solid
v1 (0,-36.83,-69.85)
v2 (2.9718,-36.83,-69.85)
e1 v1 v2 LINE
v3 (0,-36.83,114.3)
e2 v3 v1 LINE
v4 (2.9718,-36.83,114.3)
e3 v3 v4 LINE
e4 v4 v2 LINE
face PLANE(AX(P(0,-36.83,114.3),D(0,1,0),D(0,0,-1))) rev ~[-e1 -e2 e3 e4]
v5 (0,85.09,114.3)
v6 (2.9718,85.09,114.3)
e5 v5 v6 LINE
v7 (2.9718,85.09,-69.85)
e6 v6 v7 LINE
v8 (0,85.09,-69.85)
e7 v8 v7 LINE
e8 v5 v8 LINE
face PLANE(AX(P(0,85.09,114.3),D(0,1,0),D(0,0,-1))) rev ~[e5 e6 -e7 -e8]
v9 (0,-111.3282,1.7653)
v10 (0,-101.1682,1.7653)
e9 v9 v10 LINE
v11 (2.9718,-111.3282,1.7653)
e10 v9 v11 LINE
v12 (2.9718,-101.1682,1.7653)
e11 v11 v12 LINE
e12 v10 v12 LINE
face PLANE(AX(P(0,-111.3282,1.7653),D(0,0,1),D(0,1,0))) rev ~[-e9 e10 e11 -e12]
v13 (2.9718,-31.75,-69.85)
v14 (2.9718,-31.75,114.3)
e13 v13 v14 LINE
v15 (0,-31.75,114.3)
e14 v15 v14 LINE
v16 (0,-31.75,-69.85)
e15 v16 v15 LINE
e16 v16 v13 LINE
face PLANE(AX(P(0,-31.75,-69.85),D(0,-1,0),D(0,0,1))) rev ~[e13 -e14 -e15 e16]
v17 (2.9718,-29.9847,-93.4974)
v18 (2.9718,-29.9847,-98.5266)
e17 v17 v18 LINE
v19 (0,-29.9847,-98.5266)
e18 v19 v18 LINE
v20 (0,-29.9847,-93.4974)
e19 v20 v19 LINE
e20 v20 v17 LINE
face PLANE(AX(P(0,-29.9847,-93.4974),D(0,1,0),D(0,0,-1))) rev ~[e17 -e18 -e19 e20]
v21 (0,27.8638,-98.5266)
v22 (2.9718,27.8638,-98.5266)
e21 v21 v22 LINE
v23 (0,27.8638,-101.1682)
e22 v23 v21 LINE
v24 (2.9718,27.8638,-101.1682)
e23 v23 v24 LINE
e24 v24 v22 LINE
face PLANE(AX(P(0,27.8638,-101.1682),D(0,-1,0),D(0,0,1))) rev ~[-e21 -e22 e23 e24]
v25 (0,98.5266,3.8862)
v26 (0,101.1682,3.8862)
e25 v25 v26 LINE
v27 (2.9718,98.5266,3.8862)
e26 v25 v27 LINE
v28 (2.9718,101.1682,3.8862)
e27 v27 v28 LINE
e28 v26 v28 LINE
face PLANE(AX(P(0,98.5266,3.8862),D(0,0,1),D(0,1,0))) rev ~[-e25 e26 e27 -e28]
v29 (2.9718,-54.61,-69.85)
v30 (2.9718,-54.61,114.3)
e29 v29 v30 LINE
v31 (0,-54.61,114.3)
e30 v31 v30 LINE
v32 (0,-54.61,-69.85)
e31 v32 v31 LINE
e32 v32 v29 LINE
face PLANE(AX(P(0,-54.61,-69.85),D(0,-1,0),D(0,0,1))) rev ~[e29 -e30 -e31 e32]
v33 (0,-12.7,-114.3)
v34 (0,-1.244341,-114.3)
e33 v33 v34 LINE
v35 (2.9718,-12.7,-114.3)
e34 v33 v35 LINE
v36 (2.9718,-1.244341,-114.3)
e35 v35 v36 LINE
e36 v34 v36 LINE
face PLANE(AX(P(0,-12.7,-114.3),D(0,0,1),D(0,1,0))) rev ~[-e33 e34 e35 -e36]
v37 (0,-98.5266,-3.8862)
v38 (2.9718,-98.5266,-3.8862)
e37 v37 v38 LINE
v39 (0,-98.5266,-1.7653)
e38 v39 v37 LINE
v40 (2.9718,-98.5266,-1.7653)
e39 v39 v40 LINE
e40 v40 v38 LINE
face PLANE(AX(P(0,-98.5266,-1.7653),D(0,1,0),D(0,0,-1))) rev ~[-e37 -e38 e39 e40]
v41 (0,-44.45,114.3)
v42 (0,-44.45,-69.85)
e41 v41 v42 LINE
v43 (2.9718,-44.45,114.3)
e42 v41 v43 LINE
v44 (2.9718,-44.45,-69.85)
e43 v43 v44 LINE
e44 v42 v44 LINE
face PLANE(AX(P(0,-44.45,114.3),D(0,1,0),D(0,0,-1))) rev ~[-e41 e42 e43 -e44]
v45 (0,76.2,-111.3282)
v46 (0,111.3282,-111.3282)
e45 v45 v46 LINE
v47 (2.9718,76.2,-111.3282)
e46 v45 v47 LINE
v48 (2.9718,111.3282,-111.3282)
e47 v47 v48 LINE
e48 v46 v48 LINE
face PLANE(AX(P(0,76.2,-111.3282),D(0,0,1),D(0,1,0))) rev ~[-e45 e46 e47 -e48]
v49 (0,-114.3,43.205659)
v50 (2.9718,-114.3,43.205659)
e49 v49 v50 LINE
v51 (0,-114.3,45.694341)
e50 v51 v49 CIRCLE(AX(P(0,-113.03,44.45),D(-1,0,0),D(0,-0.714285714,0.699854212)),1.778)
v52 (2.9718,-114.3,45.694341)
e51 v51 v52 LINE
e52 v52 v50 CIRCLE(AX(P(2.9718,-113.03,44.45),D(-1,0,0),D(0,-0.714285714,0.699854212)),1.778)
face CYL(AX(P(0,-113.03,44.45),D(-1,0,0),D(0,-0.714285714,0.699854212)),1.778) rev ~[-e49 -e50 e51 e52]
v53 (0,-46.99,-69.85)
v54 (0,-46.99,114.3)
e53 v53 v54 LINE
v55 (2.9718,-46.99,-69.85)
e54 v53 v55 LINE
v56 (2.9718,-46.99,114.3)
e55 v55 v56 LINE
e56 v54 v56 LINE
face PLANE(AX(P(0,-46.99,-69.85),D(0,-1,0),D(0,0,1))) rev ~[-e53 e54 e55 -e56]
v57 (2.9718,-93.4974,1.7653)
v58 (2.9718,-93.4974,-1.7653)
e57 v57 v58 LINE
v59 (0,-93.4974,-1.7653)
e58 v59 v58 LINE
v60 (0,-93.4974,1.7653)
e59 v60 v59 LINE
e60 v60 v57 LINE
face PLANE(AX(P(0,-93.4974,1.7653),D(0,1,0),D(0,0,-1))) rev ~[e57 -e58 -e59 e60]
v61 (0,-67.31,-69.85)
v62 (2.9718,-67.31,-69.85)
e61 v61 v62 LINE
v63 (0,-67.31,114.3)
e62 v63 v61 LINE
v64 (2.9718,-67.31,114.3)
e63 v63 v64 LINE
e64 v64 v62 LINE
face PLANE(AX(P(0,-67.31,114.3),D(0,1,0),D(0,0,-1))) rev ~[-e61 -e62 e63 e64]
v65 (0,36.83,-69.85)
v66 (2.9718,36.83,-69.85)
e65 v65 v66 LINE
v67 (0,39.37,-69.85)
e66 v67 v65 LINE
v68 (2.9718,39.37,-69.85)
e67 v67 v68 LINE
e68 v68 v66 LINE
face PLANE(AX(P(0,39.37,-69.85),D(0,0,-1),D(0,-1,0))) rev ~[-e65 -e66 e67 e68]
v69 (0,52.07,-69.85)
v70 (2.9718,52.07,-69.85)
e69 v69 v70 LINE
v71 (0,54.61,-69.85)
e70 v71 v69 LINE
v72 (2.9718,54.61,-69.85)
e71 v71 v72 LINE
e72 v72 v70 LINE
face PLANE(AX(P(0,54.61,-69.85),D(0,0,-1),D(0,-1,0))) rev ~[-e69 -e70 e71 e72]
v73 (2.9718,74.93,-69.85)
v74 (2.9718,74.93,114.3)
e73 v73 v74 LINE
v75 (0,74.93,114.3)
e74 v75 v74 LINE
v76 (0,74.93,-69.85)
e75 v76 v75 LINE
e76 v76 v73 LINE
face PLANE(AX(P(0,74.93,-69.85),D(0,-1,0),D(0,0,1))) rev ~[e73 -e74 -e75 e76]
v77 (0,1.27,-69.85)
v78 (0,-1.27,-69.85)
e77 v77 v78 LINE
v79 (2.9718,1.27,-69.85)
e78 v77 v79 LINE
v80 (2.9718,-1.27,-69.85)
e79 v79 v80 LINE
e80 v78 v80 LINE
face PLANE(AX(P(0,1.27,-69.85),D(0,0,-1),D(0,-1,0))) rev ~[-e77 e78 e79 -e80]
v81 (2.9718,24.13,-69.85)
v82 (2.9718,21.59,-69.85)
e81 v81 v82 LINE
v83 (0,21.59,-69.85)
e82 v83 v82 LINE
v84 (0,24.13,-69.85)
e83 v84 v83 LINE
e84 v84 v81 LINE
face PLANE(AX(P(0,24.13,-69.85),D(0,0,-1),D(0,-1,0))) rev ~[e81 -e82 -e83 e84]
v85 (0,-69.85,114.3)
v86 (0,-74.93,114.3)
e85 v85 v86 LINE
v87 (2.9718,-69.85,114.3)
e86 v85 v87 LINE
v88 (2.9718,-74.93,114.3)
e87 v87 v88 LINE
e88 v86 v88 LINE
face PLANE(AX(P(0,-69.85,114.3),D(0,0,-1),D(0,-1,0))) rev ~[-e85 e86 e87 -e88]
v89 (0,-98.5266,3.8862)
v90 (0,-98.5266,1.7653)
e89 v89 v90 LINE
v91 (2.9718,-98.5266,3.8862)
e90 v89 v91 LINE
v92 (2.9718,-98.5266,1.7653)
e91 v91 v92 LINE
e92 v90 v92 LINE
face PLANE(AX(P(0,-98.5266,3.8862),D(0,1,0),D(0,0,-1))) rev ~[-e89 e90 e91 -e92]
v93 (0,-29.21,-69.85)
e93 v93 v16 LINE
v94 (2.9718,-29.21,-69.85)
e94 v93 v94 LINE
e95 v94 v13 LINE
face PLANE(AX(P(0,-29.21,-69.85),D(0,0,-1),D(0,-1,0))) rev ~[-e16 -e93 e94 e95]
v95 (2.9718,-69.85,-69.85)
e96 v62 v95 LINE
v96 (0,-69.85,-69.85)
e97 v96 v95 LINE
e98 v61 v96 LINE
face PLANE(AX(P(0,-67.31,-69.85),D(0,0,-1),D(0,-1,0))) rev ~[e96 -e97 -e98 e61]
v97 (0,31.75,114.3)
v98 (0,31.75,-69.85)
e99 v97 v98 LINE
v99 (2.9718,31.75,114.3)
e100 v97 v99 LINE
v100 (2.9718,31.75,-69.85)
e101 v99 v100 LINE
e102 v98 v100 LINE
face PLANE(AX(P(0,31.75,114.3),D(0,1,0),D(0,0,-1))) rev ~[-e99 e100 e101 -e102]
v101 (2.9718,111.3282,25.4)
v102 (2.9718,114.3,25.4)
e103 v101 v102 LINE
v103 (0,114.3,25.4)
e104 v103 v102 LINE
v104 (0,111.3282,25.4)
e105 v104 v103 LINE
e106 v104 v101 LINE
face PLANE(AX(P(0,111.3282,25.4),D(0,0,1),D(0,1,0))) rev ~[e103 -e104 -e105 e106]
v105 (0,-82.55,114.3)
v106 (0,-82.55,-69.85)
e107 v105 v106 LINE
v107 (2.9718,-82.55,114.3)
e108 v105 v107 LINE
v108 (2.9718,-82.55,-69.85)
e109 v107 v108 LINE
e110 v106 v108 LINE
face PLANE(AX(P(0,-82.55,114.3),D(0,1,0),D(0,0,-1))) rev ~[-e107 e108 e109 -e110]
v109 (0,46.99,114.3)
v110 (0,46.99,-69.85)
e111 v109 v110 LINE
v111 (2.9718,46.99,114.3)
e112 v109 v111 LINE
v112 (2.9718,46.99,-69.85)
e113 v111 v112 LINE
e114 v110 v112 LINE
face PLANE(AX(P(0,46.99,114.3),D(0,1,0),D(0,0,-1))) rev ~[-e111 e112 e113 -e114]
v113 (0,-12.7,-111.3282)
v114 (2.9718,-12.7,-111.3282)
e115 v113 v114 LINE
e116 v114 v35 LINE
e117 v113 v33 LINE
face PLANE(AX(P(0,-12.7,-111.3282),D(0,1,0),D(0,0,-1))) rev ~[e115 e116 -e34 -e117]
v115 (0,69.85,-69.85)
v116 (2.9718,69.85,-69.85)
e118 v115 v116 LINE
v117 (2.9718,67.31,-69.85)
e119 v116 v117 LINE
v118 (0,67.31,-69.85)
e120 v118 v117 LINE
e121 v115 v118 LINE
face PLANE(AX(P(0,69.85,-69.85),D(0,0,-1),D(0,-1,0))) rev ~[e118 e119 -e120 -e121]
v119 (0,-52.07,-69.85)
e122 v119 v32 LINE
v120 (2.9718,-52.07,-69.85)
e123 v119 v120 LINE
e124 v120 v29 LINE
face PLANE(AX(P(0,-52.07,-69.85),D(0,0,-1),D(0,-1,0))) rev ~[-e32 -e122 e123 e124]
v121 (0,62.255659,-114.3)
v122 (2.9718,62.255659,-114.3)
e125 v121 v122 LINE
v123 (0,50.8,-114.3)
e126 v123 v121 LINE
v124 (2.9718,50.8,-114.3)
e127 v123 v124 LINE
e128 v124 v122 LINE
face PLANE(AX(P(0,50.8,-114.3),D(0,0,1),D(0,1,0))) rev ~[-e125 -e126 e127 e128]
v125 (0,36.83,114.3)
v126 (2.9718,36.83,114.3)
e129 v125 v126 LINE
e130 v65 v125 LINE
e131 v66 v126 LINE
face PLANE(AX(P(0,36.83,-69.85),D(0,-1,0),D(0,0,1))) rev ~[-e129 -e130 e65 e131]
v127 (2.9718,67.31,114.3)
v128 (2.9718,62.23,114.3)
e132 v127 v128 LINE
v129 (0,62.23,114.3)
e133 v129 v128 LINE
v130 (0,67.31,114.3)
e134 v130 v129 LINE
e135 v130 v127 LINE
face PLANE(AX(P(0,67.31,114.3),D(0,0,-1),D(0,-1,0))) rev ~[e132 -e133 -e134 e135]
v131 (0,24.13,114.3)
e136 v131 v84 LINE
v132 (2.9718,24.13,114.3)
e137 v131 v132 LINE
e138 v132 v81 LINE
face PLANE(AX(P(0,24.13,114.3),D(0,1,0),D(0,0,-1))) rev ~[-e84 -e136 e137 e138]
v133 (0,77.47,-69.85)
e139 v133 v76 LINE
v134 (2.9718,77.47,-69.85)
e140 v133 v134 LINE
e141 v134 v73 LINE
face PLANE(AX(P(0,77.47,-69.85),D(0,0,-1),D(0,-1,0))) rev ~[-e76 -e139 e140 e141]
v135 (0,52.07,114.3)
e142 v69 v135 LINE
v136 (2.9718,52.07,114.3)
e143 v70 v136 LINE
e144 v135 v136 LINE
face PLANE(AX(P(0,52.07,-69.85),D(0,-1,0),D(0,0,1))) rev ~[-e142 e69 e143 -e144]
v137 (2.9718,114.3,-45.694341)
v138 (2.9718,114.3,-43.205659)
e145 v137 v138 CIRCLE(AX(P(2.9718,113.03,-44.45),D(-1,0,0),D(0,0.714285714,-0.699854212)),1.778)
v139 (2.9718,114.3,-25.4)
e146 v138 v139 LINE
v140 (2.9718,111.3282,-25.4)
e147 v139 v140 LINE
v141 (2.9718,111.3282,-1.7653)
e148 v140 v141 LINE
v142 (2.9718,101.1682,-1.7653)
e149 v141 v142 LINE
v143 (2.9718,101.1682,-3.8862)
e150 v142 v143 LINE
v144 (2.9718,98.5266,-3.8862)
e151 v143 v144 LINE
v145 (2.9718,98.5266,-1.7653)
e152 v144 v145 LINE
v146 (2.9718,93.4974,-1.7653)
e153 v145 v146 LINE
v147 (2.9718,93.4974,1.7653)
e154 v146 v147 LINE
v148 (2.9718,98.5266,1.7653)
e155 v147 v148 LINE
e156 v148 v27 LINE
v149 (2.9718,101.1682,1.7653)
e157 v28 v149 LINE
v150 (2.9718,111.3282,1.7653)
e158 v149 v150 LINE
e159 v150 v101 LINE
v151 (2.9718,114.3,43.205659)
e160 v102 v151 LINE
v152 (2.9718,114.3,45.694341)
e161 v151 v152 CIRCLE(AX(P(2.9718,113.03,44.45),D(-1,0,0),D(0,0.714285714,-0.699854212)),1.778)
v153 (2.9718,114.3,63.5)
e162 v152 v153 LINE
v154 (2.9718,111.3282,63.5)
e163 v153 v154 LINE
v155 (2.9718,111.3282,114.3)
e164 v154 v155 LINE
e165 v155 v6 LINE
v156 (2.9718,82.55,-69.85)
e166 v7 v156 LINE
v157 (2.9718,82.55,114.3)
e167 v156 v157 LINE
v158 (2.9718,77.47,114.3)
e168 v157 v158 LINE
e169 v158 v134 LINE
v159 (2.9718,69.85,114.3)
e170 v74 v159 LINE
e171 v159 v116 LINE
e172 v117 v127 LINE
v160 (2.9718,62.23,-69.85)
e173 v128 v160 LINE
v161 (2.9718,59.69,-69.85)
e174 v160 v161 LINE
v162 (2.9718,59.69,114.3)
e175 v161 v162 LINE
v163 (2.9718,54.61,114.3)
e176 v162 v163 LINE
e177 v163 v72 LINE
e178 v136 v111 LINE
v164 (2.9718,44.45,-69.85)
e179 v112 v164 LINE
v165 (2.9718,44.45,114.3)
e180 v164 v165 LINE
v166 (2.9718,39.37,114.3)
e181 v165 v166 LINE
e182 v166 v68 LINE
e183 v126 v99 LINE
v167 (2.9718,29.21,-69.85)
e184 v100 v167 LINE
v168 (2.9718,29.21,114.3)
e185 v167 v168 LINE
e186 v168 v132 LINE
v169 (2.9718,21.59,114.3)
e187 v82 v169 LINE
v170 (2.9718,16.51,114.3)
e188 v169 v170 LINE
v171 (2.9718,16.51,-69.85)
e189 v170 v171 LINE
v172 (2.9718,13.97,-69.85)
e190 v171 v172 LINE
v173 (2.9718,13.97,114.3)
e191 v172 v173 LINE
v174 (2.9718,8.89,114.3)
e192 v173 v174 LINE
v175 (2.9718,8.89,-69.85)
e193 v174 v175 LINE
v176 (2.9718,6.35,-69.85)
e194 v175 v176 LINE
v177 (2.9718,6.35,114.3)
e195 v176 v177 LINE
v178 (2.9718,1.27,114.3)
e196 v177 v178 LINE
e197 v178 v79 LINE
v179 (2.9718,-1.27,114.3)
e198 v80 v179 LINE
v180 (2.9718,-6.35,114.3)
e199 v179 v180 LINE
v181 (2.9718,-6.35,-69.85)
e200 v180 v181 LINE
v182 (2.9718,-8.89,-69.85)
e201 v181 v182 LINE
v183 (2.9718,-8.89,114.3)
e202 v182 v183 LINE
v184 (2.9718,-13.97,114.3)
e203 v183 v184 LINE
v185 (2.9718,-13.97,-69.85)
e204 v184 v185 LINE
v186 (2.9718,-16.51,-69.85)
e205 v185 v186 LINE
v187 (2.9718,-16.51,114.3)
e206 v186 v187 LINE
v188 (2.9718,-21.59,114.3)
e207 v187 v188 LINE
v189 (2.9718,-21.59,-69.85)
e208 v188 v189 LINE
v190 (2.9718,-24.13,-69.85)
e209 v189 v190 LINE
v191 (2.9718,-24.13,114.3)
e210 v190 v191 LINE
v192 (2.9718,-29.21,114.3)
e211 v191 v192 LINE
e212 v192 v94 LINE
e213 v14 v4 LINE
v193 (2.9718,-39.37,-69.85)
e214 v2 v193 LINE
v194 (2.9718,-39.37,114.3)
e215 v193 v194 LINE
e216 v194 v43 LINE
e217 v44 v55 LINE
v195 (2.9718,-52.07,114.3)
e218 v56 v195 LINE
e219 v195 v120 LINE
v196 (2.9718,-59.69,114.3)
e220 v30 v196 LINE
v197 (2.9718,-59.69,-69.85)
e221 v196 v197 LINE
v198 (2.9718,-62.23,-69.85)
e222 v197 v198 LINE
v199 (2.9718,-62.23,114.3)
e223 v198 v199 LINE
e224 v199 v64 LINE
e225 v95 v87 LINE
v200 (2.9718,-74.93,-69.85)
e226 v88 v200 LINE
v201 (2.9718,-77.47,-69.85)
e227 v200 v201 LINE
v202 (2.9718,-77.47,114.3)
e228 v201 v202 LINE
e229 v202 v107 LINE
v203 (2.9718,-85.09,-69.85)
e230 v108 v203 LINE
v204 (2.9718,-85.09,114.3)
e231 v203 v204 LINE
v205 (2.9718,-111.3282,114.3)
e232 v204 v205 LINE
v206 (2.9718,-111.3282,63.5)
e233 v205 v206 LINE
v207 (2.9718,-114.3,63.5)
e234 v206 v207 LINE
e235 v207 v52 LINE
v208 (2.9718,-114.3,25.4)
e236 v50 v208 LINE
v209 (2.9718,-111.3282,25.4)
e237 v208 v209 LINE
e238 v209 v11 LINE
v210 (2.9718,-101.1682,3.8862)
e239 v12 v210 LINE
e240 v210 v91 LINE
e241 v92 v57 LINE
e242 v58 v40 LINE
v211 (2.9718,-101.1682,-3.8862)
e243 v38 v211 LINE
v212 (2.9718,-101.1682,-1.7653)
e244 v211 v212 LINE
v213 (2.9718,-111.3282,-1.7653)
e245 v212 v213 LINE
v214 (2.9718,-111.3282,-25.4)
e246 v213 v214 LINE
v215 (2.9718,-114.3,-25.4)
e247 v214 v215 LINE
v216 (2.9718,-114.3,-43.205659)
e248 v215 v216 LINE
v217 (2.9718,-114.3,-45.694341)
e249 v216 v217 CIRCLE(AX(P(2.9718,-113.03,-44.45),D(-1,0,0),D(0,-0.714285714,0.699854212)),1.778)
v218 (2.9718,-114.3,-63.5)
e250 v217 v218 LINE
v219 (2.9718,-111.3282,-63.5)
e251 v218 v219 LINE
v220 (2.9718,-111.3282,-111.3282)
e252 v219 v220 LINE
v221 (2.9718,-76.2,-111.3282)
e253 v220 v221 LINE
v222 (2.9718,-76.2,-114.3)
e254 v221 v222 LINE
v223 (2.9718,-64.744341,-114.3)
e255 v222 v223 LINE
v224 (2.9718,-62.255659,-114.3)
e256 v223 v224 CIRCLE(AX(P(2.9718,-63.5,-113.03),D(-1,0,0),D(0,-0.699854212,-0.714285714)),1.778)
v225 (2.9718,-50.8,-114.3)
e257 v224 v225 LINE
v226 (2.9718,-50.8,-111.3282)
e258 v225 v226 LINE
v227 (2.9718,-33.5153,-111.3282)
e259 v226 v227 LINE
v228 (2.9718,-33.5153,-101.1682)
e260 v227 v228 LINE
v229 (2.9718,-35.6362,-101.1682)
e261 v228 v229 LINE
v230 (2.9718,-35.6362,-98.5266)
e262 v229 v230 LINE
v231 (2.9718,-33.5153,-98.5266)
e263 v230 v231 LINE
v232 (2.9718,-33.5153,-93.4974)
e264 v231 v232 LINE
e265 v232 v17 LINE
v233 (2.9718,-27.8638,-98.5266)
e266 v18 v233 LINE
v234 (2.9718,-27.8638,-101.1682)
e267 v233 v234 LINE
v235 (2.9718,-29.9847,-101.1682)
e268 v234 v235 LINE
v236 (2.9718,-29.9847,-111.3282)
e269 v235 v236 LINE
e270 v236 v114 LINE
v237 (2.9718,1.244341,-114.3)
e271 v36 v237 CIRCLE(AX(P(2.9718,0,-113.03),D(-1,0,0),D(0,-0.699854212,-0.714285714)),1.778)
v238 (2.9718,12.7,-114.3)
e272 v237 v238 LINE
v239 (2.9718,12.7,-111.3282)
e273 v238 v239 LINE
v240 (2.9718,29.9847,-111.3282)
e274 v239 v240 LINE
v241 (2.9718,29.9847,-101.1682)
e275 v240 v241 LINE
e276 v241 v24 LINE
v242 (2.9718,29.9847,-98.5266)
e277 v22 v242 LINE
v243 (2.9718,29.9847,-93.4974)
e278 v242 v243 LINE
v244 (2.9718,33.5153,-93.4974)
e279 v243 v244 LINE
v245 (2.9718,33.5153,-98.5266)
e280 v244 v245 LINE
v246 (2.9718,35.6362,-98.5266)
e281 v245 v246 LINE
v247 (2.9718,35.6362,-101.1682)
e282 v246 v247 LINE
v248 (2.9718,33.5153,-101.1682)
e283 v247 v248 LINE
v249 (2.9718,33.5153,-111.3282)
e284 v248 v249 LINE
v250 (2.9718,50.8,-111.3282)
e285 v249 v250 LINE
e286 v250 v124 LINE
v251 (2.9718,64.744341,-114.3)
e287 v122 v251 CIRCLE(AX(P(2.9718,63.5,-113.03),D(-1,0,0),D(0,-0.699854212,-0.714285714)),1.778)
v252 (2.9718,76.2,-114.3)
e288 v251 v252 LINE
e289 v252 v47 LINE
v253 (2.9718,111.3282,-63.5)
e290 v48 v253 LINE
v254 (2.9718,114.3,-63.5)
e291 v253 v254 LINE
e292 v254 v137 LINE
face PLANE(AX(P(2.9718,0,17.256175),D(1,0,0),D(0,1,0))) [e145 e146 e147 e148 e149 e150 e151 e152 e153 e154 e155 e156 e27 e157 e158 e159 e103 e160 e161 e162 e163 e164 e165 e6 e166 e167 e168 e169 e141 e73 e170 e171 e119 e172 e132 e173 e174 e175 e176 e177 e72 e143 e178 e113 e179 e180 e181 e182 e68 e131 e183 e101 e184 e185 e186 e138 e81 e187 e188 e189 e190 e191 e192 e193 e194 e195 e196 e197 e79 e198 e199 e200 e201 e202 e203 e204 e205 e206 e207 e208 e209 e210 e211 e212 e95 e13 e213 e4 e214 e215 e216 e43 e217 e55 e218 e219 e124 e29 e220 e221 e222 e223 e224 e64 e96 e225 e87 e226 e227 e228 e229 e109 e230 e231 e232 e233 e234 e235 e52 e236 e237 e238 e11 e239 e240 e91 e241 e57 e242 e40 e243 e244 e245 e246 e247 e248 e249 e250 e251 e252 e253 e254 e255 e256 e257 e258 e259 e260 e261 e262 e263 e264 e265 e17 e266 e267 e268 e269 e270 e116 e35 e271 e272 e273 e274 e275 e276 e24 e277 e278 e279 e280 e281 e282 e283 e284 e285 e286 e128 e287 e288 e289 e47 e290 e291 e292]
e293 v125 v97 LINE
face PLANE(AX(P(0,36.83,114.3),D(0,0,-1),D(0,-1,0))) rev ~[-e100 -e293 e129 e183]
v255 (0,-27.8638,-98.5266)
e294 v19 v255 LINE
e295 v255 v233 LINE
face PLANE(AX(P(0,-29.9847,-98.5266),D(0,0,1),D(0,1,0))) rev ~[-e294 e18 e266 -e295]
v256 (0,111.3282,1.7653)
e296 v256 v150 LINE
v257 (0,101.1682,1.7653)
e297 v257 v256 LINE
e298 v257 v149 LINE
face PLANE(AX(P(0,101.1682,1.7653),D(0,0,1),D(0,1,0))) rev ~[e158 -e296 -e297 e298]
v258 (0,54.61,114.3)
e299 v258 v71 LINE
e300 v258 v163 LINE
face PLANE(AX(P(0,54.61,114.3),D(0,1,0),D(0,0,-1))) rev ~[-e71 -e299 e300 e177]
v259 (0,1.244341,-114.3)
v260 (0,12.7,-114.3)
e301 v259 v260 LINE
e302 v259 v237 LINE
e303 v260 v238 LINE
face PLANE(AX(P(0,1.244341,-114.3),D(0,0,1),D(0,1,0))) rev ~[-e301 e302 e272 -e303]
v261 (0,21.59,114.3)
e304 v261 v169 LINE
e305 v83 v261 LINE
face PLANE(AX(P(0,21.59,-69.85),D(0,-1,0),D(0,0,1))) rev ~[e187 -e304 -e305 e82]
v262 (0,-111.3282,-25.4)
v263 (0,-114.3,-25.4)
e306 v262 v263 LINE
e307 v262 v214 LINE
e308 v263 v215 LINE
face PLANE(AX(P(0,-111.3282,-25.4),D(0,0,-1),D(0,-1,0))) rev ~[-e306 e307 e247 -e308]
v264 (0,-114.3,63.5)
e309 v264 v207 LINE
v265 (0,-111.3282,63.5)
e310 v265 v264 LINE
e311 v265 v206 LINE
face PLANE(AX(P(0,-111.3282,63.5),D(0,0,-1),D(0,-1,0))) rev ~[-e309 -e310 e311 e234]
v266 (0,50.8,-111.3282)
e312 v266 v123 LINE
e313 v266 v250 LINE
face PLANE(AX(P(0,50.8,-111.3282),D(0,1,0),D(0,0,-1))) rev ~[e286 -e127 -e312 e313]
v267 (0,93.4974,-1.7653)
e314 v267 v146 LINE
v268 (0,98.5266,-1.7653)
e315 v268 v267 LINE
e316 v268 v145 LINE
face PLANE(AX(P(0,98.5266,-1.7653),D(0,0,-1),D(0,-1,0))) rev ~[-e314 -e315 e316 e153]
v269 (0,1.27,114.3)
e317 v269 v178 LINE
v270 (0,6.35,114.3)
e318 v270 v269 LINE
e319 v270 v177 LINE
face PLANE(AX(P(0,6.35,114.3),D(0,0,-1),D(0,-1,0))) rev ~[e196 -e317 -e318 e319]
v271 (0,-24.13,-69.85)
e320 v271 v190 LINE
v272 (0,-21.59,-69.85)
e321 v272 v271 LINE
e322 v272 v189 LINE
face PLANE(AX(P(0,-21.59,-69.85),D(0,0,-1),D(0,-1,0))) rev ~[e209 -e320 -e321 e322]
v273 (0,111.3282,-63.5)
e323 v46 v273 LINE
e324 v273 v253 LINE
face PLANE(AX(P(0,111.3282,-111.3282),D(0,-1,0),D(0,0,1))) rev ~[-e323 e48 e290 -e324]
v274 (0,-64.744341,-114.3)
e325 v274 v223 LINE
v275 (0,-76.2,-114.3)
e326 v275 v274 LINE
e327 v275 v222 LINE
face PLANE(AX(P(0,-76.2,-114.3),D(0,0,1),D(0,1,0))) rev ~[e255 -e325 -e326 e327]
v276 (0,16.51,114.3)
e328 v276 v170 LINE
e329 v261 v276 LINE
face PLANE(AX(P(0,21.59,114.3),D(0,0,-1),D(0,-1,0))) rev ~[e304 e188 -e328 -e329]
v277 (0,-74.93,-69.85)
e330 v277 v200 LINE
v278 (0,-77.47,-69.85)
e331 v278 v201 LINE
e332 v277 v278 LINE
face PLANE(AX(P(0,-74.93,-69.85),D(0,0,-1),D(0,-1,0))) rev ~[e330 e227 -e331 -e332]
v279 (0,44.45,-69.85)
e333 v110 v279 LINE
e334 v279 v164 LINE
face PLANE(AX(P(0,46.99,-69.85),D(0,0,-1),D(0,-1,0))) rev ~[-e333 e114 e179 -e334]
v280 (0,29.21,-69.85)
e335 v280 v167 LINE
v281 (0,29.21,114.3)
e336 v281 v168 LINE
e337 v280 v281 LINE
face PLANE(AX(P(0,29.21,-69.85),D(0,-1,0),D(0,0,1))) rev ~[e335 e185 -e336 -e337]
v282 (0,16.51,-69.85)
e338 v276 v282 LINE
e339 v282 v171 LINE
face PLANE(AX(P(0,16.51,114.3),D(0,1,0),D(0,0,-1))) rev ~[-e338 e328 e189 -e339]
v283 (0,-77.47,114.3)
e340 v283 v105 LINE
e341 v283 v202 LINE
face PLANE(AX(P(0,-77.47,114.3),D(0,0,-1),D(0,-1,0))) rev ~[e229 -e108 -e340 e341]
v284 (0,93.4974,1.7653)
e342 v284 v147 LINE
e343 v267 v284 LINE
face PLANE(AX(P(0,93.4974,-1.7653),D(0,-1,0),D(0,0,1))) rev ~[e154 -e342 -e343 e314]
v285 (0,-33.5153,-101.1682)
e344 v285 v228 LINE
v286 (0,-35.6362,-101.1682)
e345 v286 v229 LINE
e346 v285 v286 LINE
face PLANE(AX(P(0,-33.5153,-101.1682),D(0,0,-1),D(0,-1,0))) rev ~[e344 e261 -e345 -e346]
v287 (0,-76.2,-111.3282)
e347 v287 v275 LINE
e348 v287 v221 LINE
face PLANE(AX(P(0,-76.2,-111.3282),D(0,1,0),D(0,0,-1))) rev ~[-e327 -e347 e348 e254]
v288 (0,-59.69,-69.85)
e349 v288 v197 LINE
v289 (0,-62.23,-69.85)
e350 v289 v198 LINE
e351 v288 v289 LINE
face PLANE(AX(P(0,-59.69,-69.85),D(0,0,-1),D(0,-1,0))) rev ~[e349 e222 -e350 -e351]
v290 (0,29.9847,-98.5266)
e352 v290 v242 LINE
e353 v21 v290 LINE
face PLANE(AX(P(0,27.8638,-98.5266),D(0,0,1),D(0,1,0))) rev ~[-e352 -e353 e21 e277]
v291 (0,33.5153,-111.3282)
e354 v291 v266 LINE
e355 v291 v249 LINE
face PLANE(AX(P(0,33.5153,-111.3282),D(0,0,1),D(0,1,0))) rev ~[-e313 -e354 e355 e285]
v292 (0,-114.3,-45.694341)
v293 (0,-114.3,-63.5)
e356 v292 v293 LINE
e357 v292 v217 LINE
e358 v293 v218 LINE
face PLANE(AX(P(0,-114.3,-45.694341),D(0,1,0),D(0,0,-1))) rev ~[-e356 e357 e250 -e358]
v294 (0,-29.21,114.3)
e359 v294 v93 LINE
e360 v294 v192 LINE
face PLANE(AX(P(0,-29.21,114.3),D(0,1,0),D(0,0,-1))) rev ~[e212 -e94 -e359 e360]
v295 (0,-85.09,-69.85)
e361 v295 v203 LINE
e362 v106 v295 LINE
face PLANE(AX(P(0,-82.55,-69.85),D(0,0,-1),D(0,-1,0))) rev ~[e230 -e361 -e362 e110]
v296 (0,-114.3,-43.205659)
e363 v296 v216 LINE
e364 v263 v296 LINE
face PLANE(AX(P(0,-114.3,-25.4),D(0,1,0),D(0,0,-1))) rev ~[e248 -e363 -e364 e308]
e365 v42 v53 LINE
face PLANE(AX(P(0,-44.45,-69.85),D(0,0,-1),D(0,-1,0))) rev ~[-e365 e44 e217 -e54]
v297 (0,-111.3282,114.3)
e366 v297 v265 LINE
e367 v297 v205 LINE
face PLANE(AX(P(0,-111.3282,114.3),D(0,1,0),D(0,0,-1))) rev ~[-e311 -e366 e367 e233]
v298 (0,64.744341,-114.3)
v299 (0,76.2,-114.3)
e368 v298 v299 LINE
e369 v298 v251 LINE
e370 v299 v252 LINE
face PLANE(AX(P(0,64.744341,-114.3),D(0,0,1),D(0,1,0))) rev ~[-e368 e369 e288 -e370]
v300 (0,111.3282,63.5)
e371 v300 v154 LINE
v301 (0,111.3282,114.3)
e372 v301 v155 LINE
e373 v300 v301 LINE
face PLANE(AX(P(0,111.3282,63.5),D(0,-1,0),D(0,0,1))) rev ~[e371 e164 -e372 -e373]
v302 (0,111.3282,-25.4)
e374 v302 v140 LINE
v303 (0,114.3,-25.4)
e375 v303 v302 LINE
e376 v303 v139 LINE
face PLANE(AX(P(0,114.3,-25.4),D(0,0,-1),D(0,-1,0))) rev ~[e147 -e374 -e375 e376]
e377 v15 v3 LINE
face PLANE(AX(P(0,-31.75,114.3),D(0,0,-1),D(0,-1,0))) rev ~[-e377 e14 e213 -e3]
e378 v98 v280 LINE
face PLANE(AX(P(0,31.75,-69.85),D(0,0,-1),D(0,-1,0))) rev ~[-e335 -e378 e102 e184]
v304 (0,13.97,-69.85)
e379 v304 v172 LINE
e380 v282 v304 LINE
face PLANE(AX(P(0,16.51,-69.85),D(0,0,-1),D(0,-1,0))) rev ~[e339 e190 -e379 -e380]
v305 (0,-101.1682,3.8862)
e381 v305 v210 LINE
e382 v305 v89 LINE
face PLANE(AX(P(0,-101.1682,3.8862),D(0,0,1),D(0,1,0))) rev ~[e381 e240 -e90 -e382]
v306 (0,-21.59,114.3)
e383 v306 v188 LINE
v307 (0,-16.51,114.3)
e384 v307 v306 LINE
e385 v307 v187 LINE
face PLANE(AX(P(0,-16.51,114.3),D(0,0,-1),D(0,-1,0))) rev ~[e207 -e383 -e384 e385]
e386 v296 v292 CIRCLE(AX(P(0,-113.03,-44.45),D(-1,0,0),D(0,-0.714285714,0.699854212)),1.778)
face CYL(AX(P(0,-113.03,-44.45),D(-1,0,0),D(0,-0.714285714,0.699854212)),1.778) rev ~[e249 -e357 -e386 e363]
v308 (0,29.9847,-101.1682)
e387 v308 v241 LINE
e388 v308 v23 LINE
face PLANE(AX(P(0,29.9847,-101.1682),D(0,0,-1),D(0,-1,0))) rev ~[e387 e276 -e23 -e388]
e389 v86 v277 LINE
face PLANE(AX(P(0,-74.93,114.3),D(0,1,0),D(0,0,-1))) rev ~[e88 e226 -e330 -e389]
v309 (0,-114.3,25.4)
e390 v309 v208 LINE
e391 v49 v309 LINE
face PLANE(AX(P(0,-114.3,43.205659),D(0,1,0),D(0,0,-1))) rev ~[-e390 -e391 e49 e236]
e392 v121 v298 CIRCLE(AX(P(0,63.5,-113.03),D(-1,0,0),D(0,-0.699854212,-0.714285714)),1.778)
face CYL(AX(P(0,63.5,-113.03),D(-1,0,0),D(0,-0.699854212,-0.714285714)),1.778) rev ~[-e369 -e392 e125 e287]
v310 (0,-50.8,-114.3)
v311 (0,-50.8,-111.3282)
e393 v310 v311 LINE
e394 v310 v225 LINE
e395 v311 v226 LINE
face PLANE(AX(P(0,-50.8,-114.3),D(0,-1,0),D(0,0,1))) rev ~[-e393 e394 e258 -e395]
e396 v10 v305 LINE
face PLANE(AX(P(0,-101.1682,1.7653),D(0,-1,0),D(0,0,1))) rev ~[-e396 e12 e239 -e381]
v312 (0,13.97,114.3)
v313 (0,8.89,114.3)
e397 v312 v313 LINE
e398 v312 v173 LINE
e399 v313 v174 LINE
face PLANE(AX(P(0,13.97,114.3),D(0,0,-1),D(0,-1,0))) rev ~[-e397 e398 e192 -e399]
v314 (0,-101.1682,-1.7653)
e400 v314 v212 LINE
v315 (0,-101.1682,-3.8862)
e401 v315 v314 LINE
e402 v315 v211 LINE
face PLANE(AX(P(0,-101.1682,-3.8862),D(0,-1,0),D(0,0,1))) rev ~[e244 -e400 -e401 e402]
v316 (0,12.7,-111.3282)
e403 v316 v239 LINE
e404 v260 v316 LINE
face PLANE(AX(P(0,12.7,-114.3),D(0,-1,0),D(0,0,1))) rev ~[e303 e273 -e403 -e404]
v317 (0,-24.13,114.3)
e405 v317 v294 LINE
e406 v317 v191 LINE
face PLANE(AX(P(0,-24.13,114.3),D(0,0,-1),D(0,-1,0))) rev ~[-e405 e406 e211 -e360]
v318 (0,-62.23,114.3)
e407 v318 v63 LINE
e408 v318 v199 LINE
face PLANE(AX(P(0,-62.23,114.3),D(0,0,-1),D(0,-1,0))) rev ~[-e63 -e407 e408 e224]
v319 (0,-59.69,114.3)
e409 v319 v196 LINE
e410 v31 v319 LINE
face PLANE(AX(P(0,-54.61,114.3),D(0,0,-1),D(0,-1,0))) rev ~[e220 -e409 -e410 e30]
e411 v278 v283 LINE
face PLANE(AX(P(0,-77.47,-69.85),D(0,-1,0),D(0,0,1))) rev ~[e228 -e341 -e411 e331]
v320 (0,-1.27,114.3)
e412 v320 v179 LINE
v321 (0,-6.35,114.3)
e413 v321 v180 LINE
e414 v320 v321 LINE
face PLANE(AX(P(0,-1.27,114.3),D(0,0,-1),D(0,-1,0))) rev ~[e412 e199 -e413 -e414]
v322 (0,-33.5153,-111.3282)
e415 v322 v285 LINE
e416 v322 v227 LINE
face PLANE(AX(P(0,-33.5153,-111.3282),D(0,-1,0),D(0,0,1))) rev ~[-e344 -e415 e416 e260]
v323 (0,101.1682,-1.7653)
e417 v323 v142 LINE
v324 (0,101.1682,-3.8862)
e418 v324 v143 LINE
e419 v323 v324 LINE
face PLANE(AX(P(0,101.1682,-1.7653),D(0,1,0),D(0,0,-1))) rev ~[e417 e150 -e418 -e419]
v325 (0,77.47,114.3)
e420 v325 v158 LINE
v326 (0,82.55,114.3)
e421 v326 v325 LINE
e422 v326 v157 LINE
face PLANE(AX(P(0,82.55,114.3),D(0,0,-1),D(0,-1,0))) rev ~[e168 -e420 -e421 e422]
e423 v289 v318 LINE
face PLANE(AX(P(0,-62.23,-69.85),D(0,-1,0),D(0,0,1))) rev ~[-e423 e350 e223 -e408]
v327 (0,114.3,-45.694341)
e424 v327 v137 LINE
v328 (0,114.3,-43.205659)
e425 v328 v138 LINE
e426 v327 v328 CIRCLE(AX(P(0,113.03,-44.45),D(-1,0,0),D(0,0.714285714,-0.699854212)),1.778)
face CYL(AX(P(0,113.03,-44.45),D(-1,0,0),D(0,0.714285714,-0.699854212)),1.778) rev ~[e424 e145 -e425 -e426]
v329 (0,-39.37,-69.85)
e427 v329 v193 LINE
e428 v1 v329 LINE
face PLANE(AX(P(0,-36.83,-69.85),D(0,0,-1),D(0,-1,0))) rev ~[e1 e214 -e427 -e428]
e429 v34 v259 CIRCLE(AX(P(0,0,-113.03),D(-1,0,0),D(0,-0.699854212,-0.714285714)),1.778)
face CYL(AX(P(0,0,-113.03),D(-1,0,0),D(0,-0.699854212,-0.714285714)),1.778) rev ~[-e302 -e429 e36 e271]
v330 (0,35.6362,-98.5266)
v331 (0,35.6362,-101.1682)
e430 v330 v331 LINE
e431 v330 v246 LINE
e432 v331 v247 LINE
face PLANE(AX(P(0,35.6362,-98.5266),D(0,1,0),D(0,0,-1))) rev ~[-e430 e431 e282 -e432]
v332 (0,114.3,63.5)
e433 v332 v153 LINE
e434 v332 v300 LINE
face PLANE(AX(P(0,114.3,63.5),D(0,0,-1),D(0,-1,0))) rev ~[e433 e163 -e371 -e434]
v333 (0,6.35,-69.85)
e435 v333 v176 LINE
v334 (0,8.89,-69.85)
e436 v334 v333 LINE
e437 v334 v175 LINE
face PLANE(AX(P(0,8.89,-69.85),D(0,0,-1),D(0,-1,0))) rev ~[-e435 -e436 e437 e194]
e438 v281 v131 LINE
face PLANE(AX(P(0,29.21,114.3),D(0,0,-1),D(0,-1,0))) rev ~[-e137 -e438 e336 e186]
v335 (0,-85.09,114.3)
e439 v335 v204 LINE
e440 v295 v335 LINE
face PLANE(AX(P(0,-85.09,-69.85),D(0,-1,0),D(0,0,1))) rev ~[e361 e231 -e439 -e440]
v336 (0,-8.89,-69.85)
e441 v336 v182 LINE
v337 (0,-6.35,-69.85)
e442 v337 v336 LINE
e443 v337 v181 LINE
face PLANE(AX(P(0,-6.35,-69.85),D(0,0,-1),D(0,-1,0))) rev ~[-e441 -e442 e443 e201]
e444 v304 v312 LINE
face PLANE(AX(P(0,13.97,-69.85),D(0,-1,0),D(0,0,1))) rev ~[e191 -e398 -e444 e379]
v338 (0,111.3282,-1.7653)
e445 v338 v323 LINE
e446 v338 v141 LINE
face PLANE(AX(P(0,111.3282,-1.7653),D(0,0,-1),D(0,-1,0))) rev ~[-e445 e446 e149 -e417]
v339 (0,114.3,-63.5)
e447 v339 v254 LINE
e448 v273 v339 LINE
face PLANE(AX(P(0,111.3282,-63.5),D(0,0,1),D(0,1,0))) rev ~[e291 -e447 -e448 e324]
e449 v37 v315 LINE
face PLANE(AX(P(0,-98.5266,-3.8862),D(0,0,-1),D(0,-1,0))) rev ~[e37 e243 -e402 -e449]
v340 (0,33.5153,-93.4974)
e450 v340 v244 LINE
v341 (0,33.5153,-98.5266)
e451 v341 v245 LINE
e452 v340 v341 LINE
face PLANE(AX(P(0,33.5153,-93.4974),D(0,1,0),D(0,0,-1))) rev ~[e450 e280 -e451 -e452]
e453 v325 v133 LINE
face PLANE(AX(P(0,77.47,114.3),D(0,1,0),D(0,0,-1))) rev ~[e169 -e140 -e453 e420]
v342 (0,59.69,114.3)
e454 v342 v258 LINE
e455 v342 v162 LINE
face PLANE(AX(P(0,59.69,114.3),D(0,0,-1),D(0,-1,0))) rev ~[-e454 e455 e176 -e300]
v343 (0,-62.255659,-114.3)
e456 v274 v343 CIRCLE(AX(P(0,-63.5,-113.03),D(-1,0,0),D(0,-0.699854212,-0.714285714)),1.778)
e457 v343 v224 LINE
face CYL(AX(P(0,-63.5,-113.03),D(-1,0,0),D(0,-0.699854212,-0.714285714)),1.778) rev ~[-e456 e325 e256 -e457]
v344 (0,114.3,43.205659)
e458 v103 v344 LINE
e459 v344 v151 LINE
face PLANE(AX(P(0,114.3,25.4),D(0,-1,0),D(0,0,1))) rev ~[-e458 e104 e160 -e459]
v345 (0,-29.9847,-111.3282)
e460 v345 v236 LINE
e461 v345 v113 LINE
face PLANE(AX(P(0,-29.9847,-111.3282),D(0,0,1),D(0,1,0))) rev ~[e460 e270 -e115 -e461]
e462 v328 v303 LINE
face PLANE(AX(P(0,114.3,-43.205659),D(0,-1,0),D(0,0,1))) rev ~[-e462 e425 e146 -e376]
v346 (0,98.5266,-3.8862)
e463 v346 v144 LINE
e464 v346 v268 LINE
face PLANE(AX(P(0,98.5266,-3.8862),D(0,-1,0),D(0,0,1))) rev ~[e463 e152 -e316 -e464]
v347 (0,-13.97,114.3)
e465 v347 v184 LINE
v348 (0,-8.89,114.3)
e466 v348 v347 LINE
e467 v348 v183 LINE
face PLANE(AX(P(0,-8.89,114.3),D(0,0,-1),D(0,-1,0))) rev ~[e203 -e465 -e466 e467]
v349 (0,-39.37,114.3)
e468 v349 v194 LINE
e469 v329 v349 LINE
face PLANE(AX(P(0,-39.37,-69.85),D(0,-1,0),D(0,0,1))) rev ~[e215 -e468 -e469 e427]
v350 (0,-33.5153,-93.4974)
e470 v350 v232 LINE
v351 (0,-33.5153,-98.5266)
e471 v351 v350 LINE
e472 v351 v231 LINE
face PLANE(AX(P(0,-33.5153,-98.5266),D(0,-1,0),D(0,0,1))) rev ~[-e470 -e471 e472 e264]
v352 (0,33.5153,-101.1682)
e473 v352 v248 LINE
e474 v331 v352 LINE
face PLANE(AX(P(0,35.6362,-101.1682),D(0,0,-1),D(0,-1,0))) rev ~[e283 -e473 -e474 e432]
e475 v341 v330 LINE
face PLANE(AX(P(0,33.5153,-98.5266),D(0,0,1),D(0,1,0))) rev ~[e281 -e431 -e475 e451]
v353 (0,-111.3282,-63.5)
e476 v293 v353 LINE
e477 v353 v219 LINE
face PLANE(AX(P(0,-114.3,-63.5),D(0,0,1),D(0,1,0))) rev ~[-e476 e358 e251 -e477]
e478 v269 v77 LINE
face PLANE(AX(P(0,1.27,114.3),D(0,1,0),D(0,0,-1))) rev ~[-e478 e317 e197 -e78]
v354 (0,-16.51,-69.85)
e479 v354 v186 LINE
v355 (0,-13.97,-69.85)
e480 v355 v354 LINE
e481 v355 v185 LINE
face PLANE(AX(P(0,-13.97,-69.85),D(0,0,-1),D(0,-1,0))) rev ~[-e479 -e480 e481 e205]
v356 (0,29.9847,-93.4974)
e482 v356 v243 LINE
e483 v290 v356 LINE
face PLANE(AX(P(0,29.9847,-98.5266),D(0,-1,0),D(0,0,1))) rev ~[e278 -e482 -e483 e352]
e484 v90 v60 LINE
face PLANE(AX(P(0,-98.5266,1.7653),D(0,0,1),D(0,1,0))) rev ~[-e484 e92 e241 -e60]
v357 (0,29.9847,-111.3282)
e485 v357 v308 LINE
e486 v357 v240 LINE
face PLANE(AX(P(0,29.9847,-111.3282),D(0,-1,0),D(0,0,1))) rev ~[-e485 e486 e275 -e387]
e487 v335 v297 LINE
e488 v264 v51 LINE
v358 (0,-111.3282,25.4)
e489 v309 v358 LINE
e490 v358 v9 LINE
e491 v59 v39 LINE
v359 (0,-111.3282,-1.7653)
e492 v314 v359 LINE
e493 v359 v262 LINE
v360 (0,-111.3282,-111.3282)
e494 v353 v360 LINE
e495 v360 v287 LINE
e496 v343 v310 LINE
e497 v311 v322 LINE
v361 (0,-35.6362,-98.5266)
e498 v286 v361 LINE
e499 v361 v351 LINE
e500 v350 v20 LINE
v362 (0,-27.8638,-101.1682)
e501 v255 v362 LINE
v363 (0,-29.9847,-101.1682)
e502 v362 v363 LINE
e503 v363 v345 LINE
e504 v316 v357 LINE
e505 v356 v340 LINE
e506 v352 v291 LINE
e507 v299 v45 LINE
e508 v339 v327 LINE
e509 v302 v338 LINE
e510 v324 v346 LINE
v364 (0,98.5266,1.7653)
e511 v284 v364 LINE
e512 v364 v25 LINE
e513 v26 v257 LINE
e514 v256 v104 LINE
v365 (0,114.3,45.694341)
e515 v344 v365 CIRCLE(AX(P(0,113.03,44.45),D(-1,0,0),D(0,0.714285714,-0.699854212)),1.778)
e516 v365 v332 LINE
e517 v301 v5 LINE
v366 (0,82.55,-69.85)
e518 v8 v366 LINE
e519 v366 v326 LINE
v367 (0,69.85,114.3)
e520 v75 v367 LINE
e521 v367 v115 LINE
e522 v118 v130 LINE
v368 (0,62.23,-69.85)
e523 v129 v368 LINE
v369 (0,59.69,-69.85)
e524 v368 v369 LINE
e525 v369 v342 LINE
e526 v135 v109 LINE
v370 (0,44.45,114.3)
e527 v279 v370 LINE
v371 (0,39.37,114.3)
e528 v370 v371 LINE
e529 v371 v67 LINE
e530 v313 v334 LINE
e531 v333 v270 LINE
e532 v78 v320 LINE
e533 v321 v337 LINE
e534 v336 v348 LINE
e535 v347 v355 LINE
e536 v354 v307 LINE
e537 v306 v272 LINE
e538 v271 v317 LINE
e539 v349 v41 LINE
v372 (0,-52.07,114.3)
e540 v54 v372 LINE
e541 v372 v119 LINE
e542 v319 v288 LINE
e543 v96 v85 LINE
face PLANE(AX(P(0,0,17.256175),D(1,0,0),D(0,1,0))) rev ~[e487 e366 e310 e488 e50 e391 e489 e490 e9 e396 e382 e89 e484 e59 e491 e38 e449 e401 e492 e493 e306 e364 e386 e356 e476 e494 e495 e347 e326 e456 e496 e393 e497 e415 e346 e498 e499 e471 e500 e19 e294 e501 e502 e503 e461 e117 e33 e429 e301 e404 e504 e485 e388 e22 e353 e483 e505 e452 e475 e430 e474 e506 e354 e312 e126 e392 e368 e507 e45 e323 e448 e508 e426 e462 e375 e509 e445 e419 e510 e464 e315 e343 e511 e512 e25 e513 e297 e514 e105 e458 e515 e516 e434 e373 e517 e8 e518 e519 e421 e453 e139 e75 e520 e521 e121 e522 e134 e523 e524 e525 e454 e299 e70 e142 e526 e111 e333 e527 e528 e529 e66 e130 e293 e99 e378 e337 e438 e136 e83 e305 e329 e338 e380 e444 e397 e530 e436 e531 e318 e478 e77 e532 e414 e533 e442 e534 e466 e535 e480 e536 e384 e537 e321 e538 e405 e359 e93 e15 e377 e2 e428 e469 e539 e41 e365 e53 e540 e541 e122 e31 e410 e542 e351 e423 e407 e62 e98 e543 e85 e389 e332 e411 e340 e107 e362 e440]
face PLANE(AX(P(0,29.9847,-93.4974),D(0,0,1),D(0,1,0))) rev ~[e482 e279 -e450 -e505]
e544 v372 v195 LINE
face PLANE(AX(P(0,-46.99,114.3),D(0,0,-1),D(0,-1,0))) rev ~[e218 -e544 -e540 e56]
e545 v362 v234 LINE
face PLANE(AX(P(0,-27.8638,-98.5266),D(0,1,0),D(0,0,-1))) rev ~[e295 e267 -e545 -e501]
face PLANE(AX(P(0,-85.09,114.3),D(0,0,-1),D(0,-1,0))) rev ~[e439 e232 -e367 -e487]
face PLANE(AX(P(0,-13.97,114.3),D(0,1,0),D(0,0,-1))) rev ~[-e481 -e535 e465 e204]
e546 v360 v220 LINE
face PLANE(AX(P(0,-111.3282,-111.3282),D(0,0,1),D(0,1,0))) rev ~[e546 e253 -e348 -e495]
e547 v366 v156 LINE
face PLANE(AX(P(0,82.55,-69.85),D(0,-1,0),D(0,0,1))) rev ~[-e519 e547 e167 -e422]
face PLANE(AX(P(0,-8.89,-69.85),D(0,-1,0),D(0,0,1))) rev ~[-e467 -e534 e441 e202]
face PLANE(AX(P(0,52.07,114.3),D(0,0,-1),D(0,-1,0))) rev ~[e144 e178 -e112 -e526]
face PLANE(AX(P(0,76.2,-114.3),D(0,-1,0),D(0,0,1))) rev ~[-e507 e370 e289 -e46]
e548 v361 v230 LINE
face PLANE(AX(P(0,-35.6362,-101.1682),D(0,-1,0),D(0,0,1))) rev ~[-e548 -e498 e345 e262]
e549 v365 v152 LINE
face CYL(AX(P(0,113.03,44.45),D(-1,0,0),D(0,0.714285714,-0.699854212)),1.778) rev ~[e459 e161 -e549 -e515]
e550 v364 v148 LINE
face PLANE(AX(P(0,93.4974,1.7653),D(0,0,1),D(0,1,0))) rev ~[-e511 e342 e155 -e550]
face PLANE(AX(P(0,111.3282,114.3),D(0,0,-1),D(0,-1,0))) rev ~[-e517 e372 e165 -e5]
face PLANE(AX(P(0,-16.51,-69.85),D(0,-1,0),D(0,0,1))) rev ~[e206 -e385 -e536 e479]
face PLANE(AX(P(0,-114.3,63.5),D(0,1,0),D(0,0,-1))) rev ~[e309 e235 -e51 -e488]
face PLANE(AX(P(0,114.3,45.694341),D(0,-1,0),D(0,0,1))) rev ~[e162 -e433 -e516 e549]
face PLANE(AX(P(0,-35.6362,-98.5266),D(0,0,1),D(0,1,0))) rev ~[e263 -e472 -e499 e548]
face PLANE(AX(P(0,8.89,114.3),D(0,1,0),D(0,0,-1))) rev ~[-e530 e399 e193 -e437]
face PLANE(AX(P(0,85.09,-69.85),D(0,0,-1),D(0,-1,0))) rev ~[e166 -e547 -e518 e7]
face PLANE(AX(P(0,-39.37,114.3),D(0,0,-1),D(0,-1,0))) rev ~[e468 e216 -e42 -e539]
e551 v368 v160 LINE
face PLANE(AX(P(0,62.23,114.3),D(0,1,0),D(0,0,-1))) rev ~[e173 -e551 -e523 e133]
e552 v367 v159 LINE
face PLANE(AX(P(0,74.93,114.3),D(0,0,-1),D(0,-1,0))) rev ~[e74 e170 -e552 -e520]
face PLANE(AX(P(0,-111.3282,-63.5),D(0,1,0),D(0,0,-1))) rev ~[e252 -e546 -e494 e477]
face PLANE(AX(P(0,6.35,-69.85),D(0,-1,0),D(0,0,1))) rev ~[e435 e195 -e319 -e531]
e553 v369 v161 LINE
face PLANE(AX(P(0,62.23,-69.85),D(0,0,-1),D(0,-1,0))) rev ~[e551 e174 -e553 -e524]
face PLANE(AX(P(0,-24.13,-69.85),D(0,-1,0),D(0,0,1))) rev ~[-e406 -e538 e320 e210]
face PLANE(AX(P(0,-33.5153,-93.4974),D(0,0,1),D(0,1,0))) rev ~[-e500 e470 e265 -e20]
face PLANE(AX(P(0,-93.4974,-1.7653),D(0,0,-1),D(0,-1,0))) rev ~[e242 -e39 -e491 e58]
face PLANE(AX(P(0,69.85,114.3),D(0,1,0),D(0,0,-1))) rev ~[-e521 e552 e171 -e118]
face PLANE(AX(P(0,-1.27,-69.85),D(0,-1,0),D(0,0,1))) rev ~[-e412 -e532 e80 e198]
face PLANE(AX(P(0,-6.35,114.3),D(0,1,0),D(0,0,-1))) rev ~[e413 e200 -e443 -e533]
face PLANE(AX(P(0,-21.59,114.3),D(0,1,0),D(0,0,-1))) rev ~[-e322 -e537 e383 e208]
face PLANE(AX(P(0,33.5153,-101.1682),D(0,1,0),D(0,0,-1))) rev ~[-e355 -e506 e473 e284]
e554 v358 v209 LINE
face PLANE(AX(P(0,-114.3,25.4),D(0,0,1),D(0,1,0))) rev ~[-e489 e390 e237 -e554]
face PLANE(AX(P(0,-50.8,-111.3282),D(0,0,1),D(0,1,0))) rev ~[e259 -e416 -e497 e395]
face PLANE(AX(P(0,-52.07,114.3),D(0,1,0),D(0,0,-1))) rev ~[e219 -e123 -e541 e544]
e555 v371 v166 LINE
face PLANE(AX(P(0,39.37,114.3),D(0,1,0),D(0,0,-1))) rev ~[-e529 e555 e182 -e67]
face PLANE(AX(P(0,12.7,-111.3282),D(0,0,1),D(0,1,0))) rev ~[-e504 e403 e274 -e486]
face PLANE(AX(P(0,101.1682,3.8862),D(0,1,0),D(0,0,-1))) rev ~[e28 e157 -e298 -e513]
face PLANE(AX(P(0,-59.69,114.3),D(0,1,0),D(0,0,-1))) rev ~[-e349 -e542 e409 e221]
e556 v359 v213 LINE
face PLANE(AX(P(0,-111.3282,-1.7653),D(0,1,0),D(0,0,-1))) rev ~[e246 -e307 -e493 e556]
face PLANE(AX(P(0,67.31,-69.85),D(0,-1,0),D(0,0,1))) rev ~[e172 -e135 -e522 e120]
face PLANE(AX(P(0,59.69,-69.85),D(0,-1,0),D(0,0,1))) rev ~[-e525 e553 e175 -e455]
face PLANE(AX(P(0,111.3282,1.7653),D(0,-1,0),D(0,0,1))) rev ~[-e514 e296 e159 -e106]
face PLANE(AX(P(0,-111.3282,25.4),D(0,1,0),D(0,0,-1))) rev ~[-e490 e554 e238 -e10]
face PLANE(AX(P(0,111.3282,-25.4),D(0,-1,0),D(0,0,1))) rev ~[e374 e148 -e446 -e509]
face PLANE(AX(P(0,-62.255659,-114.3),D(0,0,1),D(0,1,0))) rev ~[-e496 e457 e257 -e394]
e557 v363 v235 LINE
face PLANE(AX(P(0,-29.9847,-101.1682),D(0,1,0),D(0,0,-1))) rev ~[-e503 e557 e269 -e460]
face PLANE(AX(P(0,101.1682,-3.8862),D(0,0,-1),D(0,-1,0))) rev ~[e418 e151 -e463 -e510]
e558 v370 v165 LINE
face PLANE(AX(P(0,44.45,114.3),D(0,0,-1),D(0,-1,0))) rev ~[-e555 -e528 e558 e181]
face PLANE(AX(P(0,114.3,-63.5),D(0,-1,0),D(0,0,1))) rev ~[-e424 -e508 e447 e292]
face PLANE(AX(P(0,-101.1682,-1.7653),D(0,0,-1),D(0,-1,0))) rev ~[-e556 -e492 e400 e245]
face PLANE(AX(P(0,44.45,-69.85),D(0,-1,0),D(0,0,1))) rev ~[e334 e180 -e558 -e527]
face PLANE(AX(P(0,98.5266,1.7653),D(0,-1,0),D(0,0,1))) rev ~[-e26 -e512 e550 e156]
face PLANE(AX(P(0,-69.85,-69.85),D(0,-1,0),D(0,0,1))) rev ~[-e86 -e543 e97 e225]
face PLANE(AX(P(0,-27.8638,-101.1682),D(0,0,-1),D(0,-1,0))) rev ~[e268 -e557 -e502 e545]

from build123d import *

# Parameters (mm, degrees)
F1_DEPTH = 2.9718


with BuildPart() as f1:
    # F0 (on Right) → F1 (new body)
    with BuildSketch(Plane.YZ):
        with BuildLine():
            Line((76.2, -111.3282), (111.3282, -111.3282))
            Line((111.3282, -111.3282), (111.3282, -63.5))
            Line((111.3282, -63.5), (114.3, -63.5))
            Line((114.3, -63.5), (114.3, -45.6943407893))
            ThreePointArc((114.3, -45.6943407893), (111.252, -44.45), (114.3, -43.2056592107))
            Line((114.3, -43.2056592107), (114.3, -25.4))
            Line((114.3, -25.4), (111.3282, -25.4))
            Line((111.3282, -25.4), (111.3282, -1.7653))
            Line((111.3282, -1.7653), (101.1682, -1.7653))
            Line((101.1682, -1.7653), (101.1682, -3.8862))
            Line((101.1682, -3.8862), (98.5266, -3.8862))
            Line((98.5266, -3.8862), (98.5266, -1.7653))
            Line((98.5266, -1.7653), (93.4974, -1.7653))
            Line((93.4974, -1.7653), (93.4974, 1.7653))
            Line((93.4974, 1.7653), (98.5266, 1.7653))
            Line((98.5266, 1.7653), (98.5266, 3.8862))
            Line((98.5266, 3.8862), (101.1682, 3.8862))
            Line((101.1682, 3.8862), (101.1682, 1.7653))
            Line((101.1682, 1.7653), (111.3282, 1.7653))
            Line((111.3282, 1.7653), (111.3282, 25.4))
            Line((111.3282, 25.4), (114.3, 25.4))
            Line((114.3, 25.4), (114.3, 43.2056592107))
            ThreePointArc((114.3, 43.2056592107), (111.252, 44.45), (114.3, 45.6943407893))
            Line((114.3, 45.6943407893), (114.3, 63.5))
            Line((114.3, 63.5), (111.3282, 63.5))
            Line((111.3282, 63.5), (111.3282, 114.3))
            Line((111.3282, 114.3), (85.09, 114.3))
            Line((85.09, 114.3), (85.09, -69.85))
            Line((85.09, -69.85), (82.55, -69.85))
            Line((82.55, -69.85), (82.55, 114.3))
            Line((82.55, 114.3), (77.47, 114.3))
            Line((77.47, 114.3), (77.47, -69.85))
            Line((77.47, -69.85), (74.93, -69.85))
            Line((74.93, -69.85), (74.93, 114.3))
            Line((74.93, 114.3), (69.85, 114.3))
            Line((69.85, 114.3), (69.85, -69.85))
            Line((69.85, -69.85), (67.31, -69.85))
            Line((67.31, -69.85), (67.31, 114.3))
            Line((67.31, 114.3), (62.23, 114.3))
            Line((62.23, 114.3), (62.23, -69.85))
            Line((62.23, -69.85), (59.69, -69.85))
            Line((59.69, -69.85), (59.69, 114.3))
            Line((59.69, 114.3), (54.61, 114.3))
            Line((54.61, 114.3), (54.61, -69.85))
            Line((54.61, -69.85), (52.07, -69.85))
            Line((52.07, -69.85), (52.07, 114.3))
            Line((52.07, 114.3), (46.99, 114.3))
            Line((46.99, 114.3), (46.99, -69.85))
            Line((46.99, -69.85), (44.45, -69.85))
            Line((44.45, -69.85), (44.45, 114.3))
            Line((44.45, 114.3), (39.37, 114.3))
            Line((39.37, 114.3), (39.37, -69.85))
            Line((39.37, -69.85), (36.83, -69.85))
            Line((36.83, -69.85), (36.83, 114.3))
            Line((36.83, 114.3), (31.75, 114.3))
            Line((31.75, 114.3), (31.75, -69.85))
            Line((31.75, -69.85), (29.21, -69.85))
            Line((29.21, -69.85), (29.21, 114.3))
            Line((29.21, 114.3), (24.13, 114.3))
            Line((24.13, 114.3), (24.13, -69.85))
            Line((24.13, -69.85), (21.59, -69.85))
            Line((21.59, -69.85), (21.59, 114.3))
            Line((21.59, 114.3), (16.51, 114.3))
            Line((16.51, 114.3), (16.51, -69.85))
            Line((16.51, -69.85), (13.97, -69.85))
            Line((13.97, -69.85), (13.97, 114.3))
            Line((13.97, 114.3), (8.89, 114.3))
            Line((8.89, 114.3), (8.89, -69.85))
            Line((8.89, -69.85), (6.35, -69.85))
            Line((6.35, -69.85), (6.35, 114.3))
            Line((6.35, 114.3), (1.27, 114.3))
            Line((1.27, 114.3), (1.27, -69.85))
            Line((1.27, -69.85), (-1.27, -69.85))
            Line((-1.27, -69.85), (-1.27, 114.3))
            Line((-1.27, 114.3), (-6.35, 114.3))
            Line((-6.35, 114.3), (-6.35, -69.85))
            Line((-6.35, -69.85), (-8.89, -69.85))
            Line((-8.89, -69.85), (-8.89, 114.3))
            Line((-8.89, 114.3), (-13.97, 114.3))
            Line((-13.97, 114.3), (-13.97, -69.85))
            Line((-13.97, -69.85), (-16.51, -69.85))
            Line((-16.51, -69.85), (-16.51, 114.3))
            Line((-16.51, 114.3), (-21.59, 114.3))
            Line((-21.59, 114.3), (-21.59, -69.85))
            Line((-21.59, -69.85), (-24.13, -69.85))
            Line((-24.13, -69.85), (-24.13, 114.3))
            Line((-24.13, 114.3), (-29.21, 114.3))
            Line((-29.21, 114.3), (-29.21, -69.85))
            Line((-29.21, -69.85), (-31.75, -69.85))
            Line((-31.75, -69.85), (-31.75, 114.3))
            Line((-31.75, 114.3), (-36.83, 114.3))
            Line((-36.83, 114.3), (-36.83, -69.85))
            Line((-36.83, -69.85), (-39.37, -69.85))
            Line((-39.37, -69.85), (-39.37, 114.3))
            Line((-39.37, 114.3), (-44.45, 114.3))
            Line((-44.45, 114.3), (-44.45, -69.85))
            Line((-44.45, -69.85), (-46.99, -69.85))
            Line((-46.99, -69.85), (-46.99, 114.3))
            Line((-46.99, 114.3), (-52.07, 114.3))
            Line((-52.07, 114.3), (-52.07, -69.85))
            Line((-52.07, -69.85), (-54.61, -69.85))
            Line((-54.61, -69.85), (-54.61, 114.3))
            Line((-54.61, 114.3), (-59.69, 114.3))
            Line((-59.69, 114.3), (-59.69, -69.85))
            Line((-59.69, -69.85), (-62.23, -69.85))
            Line((-62.23, -69.85), (-62.23, 114.3))
            Line((-62.23, 114.3), (-67.31, 114.3))
            Line((-67.31, 114.3), (-67.31, -69.85))
            Line((-67.31, -69.85), (-69.85, -69.85))
            Line((-69.85, -69.85), (-69.85, 114.3))
            Line((-69.85, 114.3), (-74.93, 114.3))
            Line((-74.93, 114.3), (-74.93, -69.85))
            Line((-74.93, -69.85), (-77.47, -69.85))
            Line((-77.47, -69.85), (-77.47, 114.3))
            Line((-77.47, 114.3), (-82.55, 114.3))
            Line((-82.55, 114.3), (-82.55, -69.85))
            Line((-82.55, -69.85), (-85.09, -69.85))
            Line((-85.09, -69.85), (-85.09, 114.3))
            Line((-85.09, 114.3), (-111.3282, 114.3))
            Line((-111.3282, 114.3), (-111.3282, 63.5))
            Line((-111.3282, 63.5), (-114.3, 63.5))
            Line((-114.3, 63.5), (-114.3, 45.6943407893))
            ThreePointArc((-114.3, 45.6943407893), (-111.252, 44.45), (-114.3, 43.2056592107))
            Line((-114.3, 43.2056592107), (-114.3, 25.4))
            Line((-114.3, 25.4), (-111.3282, 25.4))
            Line((-111.3282, 25.4), (-111.3282, 1.7653))
            Line((-111.3282, 1.7653), (-101.1682, 1.7653))
            Line((-101.1682, 1.7653), (-101.1682, 3.8862))
            Line((-101.1682, 3.8862), (-98.5266, 3.8862))
            Line((-98.5266, 3.8862), (-98.5266, 1.7653))
            Line((-98.5266, 1.7653), (-93.4974, 1.7653))
            Line((-93.4974, 1.7653), (-93.4974, -1.7653))
            Line((-93.4974, -1.7653), (-98.5266, -1.7653))
            Line((-98.5266, -1.7653), (-98.5266, -3.8862))
            Line((-98.5266, -3.8862), (-101.1682, -3.8862))
            Line((-101.1682, -3.8862), (-101.1682, -1.7653))
            Line((-101.1682, -1.7653), (-111.3282, -1.7653))
            Line((-111.3282, -1.7653), (-111.3282, -25.4))
            Line((-111.3282, -25.4), (-114.3, -25.4))
            Line((-114.3, -25.4), (-114.3, -43.2056592107))
            ThreePointArc((-114.3, -43.2056592107), (-111.252, -44.45), (-114.3, -45.6943407893))
            Line((-114.3, -45.6943407893), (-114.3, -63.5))
            Line((-114.3, -63.5), (-111.3282, -63.5))
            Line((-111.3282, -63.5), (-111.3282, -111.3282))
            Line((-111.3282, -111.3282), (-76.2, -111.3282))
            Line((-76.2, -111.3282), (-76.2, -114.3))
            Line((-76.2, -114.3), (-64.7443407893, -114.3))
            ThreePointArc((-64.7443407893, -114.3), (-63.5, -111.252), (-62.2556592107, -114.3))
            Line((-62.2556592107, -114.3), (-50.8, -114.3))
            Line((-50.8, -114.3), (-50.8, -111.3282))
            Line((-50.8, -111.3282), (-33.5153, -111.3282))
            Line((-33.5153, -111.3282), (-33.5153, -101.1682))
            Line((-33.5153, -101.1682), (-35.6362, -101.1682))
            Line((-35.6362, -101.1682), (-35.6362, -98.5266))
            Line((-35.6362, -98.5266), (-33.5153, -98.5266))
            Line((-33.5153, -98.5266), (-33.5153, -93.4974))
            Line((-33.5153, -93.4974), (-29.9847, -93.4974))
            Line((-29.9847, -93.4974), (-29.9847, -98.5266))
            Line((-29.9847, -98.5266), (-27.8638, -98.5266))
            Line((-27.8638, -98.5266), (-27.8638, -101.1682))
            Line((-27.8638, -101.1682), (-29.9847, -101.1682))
            Line((-29.9847, -101.1682), (-29.9847, -111.3282))
            Line((-29.9847, -111.3282), (-12.7, -111.3282))
            Line((-12.7, -111.3282), (-12.7, -114.3))
            Line((-12.7, -114.3), (-1.2443407893, -114.3))
            ThreePointArc((-1.2443407893, -114.3), (0, -111.252), (1.2443407893, -114.3))
            Line((1.2443407893, -114.3), (12.7, -114.3))
            Line((12.7, -114.3), (12.7, -111.3282))
            Line((12.7, -111.3282), (29.9847, -111.3282))
            Line((29.9847, -111.3282), (29.9847, -101.1682))
            Line((29.9847, -101.1682), (27.8638, -101.1682))
            Line((27.8638, -101.1682), (27.8638, -98.5266))
            Line((27.8638, -98.5266), (29.9847, -98.5266))
            Line((29.9847, -98.5266), (29.9847, -93.4974))
            Line((29.9847, -93.4974), (33.5153, -93.4974))
            Line((33.5153, -93.4974), (33.5153, -98.5266))
            Line((33.5153, -98.5266), (35.6362, -98.5266))
            Line((35.6362, -98.5266), (35.6362, -101.1682))
            Line((35.6362, -101.1682), (33.5153, -101.1682))
            Line((33.5153, -101.1682), (33.5153, -111.3282))
            Line((33.5153, -111.3282), (50.8, -111.3282))
            Line((50.8, -111.3282), (50.8, -114.3))
            Line((50.8, -114.3), (62.2556592107, -114.3))
            ThreePointArc((62.2556592107, -114.3), (63.5, -111.252), (64.7443407893, -114.3))
            Line((64.7443407893, -114.3), (76.2, -114.3))
            Line((76.2, -114.3), (76.2, -111.3282))
        make_face()
    extrude(amount=F1_DEPTH)


solid = f1.part
